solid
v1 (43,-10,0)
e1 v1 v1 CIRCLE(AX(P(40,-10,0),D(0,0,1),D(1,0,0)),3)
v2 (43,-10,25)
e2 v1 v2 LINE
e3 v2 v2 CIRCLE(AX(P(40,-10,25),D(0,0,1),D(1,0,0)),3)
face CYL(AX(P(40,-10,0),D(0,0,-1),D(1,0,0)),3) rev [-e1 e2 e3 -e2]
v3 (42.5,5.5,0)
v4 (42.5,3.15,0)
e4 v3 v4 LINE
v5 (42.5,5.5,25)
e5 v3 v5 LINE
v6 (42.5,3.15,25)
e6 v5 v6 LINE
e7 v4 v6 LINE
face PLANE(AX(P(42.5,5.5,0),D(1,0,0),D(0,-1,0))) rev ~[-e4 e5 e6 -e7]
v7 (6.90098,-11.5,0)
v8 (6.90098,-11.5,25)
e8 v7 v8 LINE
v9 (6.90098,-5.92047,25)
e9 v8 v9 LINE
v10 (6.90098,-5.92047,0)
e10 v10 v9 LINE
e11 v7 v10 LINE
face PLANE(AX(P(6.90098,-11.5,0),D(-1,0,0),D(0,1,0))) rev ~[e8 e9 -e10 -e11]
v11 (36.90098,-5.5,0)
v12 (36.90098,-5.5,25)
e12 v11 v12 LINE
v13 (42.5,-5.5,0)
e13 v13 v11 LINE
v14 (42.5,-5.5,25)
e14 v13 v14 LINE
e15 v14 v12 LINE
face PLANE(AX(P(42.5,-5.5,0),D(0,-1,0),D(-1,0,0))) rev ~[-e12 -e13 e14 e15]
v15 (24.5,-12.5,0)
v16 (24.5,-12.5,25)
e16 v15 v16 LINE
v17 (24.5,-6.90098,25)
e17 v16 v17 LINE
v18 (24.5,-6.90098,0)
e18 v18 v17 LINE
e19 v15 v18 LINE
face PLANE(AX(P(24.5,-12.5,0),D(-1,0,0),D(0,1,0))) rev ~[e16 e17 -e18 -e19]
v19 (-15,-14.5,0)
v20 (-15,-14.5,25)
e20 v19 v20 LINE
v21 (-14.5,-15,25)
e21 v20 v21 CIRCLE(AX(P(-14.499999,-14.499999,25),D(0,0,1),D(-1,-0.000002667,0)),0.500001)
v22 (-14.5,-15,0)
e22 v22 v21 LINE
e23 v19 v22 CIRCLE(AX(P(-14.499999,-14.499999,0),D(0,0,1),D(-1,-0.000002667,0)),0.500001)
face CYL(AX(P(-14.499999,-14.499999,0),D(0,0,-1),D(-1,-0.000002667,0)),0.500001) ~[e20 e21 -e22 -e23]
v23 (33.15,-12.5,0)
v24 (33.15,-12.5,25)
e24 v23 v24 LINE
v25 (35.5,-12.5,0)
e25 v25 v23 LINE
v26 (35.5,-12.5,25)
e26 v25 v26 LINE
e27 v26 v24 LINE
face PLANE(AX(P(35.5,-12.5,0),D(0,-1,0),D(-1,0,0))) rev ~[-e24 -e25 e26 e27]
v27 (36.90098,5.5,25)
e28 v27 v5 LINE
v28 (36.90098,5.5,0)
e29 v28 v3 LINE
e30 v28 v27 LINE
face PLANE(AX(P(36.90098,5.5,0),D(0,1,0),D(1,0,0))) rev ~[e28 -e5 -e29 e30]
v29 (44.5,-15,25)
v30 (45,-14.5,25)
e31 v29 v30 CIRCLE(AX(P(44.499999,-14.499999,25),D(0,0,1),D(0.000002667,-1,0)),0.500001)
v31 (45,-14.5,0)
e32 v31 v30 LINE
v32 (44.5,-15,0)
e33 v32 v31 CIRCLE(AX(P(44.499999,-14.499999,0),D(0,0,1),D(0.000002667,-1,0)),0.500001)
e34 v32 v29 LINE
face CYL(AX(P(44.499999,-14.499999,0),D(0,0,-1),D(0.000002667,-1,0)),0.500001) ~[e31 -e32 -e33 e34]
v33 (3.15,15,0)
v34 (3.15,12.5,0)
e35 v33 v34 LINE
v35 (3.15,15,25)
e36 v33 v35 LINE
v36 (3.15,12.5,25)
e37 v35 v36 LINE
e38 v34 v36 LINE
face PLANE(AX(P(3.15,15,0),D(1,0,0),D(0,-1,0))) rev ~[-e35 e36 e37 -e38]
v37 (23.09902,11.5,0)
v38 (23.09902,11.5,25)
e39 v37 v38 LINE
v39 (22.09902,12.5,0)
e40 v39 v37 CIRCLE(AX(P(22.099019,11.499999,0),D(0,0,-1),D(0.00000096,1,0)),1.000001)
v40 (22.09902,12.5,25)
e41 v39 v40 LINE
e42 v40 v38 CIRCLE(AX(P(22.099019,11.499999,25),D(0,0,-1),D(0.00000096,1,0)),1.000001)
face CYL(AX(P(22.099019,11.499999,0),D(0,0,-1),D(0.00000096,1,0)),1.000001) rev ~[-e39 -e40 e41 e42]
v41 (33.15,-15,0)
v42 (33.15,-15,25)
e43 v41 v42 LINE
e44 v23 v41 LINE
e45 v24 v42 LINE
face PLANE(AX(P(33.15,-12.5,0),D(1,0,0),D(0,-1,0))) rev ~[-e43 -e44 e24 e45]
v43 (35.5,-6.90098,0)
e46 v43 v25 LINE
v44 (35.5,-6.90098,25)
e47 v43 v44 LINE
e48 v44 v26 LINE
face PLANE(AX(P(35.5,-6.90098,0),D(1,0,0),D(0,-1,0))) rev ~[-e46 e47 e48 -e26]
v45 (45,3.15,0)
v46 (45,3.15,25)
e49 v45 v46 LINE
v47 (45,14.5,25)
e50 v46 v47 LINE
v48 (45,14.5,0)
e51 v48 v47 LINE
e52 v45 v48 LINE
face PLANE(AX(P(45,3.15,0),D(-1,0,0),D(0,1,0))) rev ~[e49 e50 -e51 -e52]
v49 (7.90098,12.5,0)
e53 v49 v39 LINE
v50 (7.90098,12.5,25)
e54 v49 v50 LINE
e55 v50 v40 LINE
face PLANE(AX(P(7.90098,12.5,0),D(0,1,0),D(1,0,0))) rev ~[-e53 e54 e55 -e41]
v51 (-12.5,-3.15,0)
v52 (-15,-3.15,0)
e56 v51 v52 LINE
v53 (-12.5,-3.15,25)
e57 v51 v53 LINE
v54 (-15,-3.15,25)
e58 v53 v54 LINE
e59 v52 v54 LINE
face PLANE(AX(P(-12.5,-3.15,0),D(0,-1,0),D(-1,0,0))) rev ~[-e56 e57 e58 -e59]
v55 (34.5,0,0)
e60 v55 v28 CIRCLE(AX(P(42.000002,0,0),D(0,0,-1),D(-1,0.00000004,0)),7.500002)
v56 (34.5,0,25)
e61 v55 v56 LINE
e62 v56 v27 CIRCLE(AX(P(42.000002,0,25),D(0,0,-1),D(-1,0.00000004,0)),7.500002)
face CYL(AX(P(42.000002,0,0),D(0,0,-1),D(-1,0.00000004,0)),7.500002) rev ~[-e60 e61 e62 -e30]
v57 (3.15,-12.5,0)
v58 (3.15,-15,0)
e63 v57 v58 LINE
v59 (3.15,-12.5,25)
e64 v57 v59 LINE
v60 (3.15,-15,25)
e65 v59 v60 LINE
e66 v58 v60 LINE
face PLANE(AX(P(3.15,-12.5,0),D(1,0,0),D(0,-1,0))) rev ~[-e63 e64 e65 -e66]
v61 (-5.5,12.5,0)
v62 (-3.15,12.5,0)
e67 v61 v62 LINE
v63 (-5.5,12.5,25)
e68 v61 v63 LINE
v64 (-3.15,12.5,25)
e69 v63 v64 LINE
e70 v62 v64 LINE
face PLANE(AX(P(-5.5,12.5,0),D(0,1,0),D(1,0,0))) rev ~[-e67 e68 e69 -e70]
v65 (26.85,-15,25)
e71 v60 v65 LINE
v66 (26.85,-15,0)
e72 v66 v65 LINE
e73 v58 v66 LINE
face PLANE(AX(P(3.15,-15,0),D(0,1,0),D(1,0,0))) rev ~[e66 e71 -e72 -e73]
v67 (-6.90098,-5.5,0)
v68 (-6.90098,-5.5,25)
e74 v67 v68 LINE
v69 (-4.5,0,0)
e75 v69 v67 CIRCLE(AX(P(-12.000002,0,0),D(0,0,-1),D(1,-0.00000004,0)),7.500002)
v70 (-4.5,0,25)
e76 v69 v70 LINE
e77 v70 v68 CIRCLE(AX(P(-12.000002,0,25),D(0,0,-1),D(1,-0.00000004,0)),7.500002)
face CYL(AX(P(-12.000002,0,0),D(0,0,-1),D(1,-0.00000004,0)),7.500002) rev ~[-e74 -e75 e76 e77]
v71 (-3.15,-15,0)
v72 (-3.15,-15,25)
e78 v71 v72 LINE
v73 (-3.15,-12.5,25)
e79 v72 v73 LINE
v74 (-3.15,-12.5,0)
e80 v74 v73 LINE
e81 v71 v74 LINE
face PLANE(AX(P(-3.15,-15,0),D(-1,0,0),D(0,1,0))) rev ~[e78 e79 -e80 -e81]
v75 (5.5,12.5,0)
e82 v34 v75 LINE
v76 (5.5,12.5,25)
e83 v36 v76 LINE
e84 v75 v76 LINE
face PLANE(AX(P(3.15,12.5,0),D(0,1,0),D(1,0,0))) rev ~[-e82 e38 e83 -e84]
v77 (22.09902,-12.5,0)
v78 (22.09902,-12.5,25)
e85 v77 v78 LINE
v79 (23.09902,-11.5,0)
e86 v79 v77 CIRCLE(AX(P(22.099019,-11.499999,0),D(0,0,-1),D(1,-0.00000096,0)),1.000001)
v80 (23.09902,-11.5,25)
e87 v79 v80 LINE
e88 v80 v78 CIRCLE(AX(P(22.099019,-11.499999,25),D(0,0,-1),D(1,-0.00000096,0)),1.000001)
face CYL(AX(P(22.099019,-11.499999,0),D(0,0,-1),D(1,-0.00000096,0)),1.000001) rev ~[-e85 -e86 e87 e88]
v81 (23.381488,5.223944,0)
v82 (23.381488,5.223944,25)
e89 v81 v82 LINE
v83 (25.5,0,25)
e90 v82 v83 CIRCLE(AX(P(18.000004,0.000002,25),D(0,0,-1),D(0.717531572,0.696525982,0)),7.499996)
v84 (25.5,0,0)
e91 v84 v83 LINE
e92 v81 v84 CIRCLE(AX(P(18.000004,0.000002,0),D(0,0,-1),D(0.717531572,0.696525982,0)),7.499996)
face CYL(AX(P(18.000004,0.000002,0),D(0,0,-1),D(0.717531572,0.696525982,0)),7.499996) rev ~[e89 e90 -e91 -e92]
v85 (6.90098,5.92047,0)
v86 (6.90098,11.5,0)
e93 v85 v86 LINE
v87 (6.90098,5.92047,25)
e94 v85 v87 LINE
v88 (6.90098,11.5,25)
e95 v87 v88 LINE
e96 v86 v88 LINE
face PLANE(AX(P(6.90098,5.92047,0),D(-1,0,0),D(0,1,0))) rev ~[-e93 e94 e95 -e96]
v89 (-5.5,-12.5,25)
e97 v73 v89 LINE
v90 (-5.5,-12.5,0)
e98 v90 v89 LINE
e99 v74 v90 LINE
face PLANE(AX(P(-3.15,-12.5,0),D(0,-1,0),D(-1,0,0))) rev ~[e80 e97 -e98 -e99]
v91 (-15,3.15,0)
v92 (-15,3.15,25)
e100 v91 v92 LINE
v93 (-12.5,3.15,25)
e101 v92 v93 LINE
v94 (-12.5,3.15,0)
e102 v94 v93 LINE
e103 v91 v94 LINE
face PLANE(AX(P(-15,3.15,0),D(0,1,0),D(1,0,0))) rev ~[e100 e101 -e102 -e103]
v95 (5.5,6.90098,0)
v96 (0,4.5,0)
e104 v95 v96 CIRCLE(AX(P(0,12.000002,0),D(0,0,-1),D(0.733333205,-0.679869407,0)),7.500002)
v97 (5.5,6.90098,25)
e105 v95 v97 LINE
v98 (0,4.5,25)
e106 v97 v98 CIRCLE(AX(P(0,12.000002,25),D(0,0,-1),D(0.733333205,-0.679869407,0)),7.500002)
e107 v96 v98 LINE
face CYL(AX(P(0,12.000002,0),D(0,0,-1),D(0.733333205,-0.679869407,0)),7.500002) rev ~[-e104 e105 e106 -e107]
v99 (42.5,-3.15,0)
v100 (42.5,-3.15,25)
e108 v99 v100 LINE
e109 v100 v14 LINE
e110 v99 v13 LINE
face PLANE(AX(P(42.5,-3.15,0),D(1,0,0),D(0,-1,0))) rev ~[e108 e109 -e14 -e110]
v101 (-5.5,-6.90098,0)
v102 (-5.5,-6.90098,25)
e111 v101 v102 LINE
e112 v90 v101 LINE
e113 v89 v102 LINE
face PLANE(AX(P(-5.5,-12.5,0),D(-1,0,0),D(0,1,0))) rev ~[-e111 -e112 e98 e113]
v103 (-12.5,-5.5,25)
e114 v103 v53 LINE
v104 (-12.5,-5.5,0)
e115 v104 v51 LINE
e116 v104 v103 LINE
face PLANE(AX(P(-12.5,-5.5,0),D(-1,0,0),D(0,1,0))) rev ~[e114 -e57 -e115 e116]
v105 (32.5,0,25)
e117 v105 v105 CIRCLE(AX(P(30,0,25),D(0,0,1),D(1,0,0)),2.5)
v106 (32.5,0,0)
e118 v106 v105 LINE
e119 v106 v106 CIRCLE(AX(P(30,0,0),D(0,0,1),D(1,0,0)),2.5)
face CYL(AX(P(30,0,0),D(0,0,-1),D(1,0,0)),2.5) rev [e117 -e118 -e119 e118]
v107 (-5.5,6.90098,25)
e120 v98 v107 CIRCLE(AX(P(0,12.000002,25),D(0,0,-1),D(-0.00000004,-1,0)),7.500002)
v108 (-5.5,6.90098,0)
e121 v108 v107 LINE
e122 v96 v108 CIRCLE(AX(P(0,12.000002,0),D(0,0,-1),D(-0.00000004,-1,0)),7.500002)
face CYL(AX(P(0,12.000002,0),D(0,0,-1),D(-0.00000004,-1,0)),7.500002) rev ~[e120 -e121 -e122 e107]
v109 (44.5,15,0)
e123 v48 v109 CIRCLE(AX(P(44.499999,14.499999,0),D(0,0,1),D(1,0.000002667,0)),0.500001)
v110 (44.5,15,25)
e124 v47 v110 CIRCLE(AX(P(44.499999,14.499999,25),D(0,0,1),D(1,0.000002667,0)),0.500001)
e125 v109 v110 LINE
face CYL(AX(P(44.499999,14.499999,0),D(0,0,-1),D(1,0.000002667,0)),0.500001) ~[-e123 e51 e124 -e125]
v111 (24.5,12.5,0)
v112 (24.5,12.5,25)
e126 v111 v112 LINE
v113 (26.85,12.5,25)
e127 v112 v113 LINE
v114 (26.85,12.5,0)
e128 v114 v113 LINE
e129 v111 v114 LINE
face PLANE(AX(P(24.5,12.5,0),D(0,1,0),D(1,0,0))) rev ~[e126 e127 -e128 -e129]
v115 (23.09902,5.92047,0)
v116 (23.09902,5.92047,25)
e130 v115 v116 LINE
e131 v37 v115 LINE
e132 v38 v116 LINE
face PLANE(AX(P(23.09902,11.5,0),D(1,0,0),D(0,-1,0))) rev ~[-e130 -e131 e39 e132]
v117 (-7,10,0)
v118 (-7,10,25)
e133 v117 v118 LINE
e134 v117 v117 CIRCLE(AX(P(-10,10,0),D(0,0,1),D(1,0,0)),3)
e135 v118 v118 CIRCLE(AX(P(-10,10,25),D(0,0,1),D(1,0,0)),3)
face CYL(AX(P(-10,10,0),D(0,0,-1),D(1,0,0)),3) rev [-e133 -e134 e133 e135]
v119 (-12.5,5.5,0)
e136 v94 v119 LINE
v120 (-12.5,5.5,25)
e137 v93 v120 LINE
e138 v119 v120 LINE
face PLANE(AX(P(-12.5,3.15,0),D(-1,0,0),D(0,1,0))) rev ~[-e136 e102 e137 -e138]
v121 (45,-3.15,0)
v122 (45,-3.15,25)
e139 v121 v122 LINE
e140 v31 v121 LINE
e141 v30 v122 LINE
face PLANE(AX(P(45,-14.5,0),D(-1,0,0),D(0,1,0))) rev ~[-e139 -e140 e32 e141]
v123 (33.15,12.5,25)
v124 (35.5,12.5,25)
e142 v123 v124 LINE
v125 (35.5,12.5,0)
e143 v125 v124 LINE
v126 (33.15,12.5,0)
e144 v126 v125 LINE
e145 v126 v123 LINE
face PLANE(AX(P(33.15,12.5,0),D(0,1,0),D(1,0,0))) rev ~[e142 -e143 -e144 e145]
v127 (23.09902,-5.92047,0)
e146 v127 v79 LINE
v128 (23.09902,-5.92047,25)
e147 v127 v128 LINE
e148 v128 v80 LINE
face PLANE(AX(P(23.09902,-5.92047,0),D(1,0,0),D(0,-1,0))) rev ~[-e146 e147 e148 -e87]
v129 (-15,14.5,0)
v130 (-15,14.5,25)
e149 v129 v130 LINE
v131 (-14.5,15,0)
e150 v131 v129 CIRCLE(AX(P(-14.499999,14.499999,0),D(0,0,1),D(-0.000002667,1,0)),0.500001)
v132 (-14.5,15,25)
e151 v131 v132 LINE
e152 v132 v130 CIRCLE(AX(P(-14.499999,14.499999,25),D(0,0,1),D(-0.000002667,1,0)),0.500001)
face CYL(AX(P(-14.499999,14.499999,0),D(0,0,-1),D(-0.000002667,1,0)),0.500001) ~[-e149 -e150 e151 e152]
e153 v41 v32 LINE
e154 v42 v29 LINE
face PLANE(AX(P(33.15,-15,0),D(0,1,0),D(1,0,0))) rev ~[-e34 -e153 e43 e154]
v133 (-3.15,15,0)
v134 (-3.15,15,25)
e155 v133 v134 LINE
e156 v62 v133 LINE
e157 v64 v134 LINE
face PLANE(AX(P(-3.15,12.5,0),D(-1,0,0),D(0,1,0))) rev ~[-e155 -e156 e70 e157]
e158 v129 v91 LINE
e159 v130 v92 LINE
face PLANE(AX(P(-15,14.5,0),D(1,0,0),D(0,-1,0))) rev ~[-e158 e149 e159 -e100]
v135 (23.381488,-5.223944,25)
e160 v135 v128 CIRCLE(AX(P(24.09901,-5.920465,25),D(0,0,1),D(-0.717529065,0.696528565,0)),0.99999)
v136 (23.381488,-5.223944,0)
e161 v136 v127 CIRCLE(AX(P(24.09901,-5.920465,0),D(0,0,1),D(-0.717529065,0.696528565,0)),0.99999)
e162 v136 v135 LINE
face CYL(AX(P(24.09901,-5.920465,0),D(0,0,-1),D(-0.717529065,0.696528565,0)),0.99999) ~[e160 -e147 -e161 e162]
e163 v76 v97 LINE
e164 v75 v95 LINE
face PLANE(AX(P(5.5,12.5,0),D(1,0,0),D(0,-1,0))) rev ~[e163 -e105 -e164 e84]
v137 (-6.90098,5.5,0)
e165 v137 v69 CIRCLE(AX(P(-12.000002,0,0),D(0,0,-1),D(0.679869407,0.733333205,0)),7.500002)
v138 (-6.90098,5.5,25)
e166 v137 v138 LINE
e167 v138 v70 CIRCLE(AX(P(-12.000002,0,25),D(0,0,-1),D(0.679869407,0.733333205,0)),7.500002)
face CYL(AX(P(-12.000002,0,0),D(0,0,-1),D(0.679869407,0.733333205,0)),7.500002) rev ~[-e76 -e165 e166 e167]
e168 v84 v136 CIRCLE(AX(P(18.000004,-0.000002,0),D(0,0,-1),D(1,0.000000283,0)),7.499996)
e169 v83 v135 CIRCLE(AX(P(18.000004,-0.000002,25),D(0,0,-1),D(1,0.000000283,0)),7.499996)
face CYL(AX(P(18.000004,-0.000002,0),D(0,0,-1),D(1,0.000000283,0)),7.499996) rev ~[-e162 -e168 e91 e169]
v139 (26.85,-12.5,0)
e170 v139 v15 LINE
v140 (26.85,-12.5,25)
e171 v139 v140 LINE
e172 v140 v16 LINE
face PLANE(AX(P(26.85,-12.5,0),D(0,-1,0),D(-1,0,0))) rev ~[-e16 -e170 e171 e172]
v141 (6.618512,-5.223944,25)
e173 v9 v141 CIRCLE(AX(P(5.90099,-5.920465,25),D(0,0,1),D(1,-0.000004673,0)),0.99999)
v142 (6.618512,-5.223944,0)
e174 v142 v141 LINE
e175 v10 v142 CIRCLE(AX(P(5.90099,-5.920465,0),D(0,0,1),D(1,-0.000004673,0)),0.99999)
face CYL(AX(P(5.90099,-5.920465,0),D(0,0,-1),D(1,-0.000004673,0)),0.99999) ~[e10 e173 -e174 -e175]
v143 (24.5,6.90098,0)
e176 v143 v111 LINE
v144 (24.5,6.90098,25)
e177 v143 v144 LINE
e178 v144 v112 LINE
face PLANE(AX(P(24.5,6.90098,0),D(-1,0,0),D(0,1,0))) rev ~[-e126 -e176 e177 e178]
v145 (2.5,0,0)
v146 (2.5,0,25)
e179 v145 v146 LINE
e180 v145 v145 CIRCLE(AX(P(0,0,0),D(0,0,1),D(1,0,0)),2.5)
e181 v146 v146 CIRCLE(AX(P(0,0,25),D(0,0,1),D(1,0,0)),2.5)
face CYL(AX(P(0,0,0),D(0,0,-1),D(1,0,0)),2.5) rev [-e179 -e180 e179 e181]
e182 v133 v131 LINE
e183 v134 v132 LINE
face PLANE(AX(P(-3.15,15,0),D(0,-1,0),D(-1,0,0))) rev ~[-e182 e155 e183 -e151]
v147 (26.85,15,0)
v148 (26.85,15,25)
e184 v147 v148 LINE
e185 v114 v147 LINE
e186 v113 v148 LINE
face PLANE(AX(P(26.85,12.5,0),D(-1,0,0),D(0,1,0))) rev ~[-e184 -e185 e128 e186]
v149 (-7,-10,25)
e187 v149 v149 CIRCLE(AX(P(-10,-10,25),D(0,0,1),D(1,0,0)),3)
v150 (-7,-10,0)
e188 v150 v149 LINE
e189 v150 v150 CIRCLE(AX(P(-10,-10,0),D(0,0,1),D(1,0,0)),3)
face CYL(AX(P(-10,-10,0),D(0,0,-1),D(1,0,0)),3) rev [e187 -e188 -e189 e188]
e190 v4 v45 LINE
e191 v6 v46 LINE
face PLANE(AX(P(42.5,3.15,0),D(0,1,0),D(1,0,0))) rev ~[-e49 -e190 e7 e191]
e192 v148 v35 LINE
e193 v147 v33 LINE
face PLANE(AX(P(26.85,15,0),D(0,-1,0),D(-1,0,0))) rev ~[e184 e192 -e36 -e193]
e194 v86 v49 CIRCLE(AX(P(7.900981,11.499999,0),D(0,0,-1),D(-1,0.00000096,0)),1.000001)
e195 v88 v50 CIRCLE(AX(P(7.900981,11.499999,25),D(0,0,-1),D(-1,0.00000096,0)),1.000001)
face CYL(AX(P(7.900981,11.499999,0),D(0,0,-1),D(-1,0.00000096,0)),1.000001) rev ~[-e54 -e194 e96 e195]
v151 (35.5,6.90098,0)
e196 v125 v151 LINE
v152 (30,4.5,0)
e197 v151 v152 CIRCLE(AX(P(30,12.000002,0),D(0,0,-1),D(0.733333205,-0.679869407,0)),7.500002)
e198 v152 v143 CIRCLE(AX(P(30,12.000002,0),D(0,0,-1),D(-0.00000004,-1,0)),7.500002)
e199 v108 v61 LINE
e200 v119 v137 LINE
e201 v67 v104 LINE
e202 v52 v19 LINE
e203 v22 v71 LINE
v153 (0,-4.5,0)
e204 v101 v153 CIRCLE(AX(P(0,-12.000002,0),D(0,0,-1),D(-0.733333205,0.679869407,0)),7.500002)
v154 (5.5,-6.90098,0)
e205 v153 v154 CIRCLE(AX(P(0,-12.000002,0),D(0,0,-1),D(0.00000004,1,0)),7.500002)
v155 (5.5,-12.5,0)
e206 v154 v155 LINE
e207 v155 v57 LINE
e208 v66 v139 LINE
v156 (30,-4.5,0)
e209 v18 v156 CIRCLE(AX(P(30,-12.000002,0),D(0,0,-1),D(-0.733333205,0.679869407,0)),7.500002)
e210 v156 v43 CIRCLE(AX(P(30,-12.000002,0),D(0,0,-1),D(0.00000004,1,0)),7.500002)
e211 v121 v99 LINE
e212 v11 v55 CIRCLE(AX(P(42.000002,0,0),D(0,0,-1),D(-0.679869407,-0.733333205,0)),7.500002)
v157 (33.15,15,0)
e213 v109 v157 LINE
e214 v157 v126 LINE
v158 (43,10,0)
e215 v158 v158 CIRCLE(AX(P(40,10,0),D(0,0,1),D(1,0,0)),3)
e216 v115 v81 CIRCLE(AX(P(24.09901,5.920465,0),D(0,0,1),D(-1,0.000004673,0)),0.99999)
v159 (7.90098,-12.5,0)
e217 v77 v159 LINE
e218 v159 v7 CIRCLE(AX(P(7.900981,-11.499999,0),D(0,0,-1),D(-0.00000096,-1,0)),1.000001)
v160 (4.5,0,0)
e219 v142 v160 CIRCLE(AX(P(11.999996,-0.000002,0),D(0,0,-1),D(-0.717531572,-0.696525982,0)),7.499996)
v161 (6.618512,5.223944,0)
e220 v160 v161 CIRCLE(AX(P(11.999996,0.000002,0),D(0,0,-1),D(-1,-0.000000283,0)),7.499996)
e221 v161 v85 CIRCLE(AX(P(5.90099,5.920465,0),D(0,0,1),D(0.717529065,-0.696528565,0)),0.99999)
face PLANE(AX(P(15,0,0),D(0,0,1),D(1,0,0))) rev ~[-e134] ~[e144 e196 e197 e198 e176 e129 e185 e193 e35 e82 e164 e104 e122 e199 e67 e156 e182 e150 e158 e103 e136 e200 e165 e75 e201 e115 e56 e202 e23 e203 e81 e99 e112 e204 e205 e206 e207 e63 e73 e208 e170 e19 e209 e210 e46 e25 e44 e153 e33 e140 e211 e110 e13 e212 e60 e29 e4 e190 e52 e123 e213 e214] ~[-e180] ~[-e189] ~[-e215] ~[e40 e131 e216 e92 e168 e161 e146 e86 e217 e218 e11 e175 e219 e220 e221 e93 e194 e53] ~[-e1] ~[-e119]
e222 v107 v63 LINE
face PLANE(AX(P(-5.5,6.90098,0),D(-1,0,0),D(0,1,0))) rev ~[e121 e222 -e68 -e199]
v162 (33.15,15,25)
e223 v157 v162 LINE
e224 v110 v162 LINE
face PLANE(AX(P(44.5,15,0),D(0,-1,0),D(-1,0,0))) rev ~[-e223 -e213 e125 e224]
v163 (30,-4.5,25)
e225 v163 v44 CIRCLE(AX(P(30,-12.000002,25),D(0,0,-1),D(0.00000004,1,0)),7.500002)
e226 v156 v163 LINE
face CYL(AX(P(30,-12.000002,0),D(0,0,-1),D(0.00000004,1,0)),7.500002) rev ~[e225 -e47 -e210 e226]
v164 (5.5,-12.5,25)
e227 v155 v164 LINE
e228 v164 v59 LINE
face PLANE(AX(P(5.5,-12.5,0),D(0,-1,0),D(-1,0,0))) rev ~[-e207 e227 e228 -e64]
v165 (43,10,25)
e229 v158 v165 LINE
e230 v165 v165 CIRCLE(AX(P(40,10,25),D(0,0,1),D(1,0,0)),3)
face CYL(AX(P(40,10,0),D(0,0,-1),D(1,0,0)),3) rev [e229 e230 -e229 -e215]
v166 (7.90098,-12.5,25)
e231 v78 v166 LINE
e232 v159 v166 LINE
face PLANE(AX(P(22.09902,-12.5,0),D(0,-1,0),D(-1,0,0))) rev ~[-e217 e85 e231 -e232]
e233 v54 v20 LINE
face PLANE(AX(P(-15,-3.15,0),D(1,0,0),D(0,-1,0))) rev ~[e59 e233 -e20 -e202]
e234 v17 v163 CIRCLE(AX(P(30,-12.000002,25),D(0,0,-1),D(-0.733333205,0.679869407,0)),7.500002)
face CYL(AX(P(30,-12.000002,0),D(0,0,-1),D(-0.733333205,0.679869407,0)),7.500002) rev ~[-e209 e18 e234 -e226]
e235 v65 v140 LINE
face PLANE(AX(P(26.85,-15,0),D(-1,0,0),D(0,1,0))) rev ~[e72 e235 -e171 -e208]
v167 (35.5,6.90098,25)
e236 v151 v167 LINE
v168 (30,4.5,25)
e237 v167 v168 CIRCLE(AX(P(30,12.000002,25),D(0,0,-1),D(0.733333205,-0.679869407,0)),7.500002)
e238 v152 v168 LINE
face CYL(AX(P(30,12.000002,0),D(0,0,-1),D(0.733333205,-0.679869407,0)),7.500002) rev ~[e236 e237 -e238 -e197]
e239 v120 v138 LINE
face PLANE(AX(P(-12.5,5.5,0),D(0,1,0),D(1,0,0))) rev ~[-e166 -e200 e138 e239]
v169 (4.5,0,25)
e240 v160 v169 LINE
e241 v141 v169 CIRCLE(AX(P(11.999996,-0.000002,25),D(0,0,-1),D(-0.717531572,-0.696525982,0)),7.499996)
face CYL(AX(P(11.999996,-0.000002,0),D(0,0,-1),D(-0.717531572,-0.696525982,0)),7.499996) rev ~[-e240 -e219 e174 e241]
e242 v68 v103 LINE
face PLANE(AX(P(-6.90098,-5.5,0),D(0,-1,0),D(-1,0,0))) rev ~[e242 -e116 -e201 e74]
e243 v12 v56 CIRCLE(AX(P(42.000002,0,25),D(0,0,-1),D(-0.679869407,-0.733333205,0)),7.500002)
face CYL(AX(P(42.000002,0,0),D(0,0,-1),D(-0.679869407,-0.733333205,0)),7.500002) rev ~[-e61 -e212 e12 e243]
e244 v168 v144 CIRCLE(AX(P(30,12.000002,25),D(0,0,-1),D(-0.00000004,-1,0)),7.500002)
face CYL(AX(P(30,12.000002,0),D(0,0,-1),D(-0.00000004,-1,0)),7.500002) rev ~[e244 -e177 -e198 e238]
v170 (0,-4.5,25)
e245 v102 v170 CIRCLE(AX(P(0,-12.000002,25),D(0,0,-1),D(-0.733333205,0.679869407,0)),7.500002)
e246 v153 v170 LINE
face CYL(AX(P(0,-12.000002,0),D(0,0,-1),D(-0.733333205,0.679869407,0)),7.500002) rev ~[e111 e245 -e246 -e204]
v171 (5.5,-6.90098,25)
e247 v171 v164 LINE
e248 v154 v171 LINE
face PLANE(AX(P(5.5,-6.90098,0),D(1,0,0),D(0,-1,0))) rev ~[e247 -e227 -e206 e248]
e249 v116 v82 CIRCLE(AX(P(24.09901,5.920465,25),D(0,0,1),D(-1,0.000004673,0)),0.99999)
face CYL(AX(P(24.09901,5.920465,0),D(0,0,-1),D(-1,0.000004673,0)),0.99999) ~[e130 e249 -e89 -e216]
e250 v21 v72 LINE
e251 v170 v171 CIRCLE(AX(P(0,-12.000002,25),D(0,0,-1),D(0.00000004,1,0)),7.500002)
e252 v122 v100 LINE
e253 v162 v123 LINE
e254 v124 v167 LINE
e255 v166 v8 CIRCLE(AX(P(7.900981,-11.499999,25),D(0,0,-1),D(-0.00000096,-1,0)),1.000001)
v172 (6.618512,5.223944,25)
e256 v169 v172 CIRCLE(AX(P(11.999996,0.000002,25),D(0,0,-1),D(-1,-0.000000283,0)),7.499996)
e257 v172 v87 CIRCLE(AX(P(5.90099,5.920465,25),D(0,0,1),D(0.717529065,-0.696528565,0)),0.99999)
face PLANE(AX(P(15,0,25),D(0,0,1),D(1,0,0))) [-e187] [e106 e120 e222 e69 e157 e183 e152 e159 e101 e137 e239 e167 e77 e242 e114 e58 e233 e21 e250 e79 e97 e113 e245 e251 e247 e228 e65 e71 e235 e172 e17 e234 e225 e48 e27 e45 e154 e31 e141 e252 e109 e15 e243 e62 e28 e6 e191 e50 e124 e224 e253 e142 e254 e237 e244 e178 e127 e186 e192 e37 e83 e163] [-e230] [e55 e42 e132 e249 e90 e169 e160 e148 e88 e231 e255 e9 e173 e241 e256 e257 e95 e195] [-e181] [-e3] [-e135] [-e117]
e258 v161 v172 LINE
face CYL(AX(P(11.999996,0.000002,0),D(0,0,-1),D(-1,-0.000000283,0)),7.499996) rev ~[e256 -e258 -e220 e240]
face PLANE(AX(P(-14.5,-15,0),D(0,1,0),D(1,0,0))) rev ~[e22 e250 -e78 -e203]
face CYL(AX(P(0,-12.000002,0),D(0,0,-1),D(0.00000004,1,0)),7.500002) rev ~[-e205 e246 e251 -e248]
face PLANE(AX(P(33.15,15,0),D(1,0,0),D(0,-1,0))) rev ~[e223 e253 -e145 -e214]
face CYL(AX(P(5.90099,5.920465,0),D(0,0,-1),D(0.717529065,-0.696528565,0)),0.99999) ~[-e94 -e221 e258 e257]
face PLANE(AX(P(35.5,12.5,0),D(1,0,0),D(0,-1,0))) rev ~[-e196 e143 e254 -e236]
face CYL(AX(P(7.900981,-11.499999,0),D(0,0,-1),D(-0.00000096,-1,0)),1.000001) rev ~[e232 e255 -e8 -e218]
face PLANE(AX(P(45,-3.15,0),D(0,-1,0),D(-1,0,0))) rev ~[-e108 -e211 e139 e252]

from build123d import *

# Parameters (mm, degrees)
F0_R     = 3
F0_R_2   = 2.5
F1_DEPTH = 25


with BuildPart() as f1:
    # F0 (on Top) → F1 (new body)
    with BuildSketch(Plane.XY):
        with BuildLine():
            ThreePointArc((-14.5, 15), (-14.853553, 14.853553), (-15, 14.5))
            Line((-15, 14.5), (-15, 3.15))
            Line((-15, 3.15), (-12.5, 3.15))
            Line((-12.5, 3.15), (-12.5, 5.5))
            Line((-12.5, 5.5), (-6.90098, 5.5))
            ThreePointArc((-6.90098, 5.5), (-5.126404, 3.000613), (-4.5, 0))
            ThreePointArc((-4.5, 0), (-5.126404, -3.000613), (-6.90098, -5.5))
            Line((-6.90098, -5.5), (-12.5, -5.5))
            Line((-12.5, -5.5), (-12.5, -3.15))
            Line((-12.5, -3.15), (-15, -3.15))
            Line((-15, -3.15), (-15, -14.5))
            ThreePointArc((-15, -14.5), (-14.853553, -14.853553), (-14.5, -15))
            Line((-14.5, -15), (-3.15, -15))
            Line((-3.15, -15), (-3.15, -12.5))
            Line((-3.15, -12.5), (-5.5, -12.5))
            Line((-5.5, -12.5), (-5.5, -6.90098))
            ThreePointArc((-5.5, -6.90098), (-3.000613, -5.126404), (0, -4.5))
            ThreePointArc((0, -4.5), (3.000613, -5.126404), (5.5, -6.90098))
            Line((5.5, -6.90098), (5.5, -12.5))
            Line((5.5, -12.5), (3.15, -12.5))
            Line((3.15, -12.5), (3.15, -15))
            Line((3.15, -15), (26.85, -15))
            Line((26.85, -15), (26.85, -12.5))
            Line((26.85, -12.5), (24.5, -12.5))
            Line((24.5, -12.5), (24.5, -6.90098))
            ThreePointArc((24.5, -6.90098), (26.999387, -5.126404), (30, -4.5))
            ThreePointArc((30, -4.5), (33.000613, -5.126404), (35.5, -6.90098))
            Line((35.5, -6.90098), (35.5, -12.5))
            Line((35.5, -12.5), (33.15, -12.5))
            Line((33.15, -12.5), (33.15, -15))
            Line((33.15, -15), (44.5, -15))
            ThreePointArc((44.5, -15), (44.853553, -14.853553), (45, -14.5))
            Line((45, -14.5), (45, -3.15))
            Line((45, -3.15), (42.5, -3.15))
            Line((42.5, -3.15), (42.5, -5.5))
            Line((42.5, -5.5), (36.90098, -5.5))
            ThreePointArc((36.90098, -5.5), (35.126404, -3.000613), (34.5, 0))
            ThreePointArc((34.5, 0), (35.126404, 3.000613), (36.90098, 5.5))
            Line((36.90098, 5.5), (42.5, 5.5))
            Line((42.5, 5.5), (42.5, 3.15))
            Line((42.5, 3.15), (45, 3.15))
            Line((45, 3.15), (45, 14.5))
            ThreePointArc((45, 14.5), (44.853553, 14.853553), (44.5, 15))
            Line((44.5, 15), (33.15, 15))
            Line((33.15, 15), (33.15, 12.5))
            Line((33.15, 12.5), (35.5, 12.5))
            Line((35.5, 12.5), (35.5, 6.90098))
            ThreePointArc((35.5, 6.90098), (33.000613, 5.126404), (30, 4.5))
            ThreePointArc((30, 4.5), (26.999387, 5.126404), (24.5, 6.90098))
            Line((24.5, 6.90098), (24.5, 12.5))
            Line((24.5, 12.5), (26.85, 12.5))
            Line((26.85, 12.5), (26.85, 15))
            Line((26.85, 15), (3.15, 15))
            Line((3.15, 15), (3.15, 12.5))
            Line((3.15, 12.5), (5.5, 12.5))
            Line((5.5, 12.5), (5.5, 6.90098))
            ThreePointArc((5.5, 6.90098), (3.000613, 5.126404), (0, 4.5))
            ThreePointArc((0, 4.5), (-3.000613, 5.126404), (-5.5, 6.90098))
            Line((-5.5, 6.90098), (-5.5, 12.5))
            Line((-5.5, 12.5), (-3.15, 12.5))
            Line((-3.15, 12.5), (-3.15, 15))
            Line((-3.15, 15), (-14.5, 15))
        make_face()
        with Locations((-10, -10)):
            Circle(F0_R, mode=Mode.SUBTRACT)
        with Locations((40, -10)):
            Circle(F0_R, mode=Mode.SUBTRACT)
        Circle(F0_R_2, mode=Mode.SUBTRACT)
        with Locations((-10, 10)):
            Circle(F0_R, mode=Mode.SUBTRACT)
        with BuildLine():
            ThreePointArc((6.618512, -5.223944), (5.049778, -2.818585), (4.5, 0))
            ThreePointArc((4.5, 0), (5.049778, 2.818585), (6.618512, 5.223944))
            ThreePointArc((6.618512, 5.223944), (6.827677, 5.544658), (6.90098, 5.92047))
            Line((6.90098, 5.92047), (6.90098, 11.5))
            ThreePointArc((6.90098, 11.5), (7.193874, 12.207107), (7.90098, 12.5))
            Line((7.90098, 12.5), (15, 12.5))
            Line((15, 12.5), (22.09902, 12.5))
            ThreePointArc((22.09902, 12.5), (22.806126, 12.207107), (23.09902, 11.5))
            Line((23.09902, 11.5), (23.09902, 5.92047))
            ThreePointArc((23.09902, 5.92047), (23.172323, 5.544658), (23.381488, 5.223944))
            ThreePointArc((23.381488, 5.223944), (24.950222, 2.818585), (25.5, 0))
            ThreePointArc((25.5, 0), (24.950222, -2.818585), (23.381488, -5.223944))
            ThreePointArc((23.381488, -5.223944), (23.172323, -5.544658), (23.09902, -5.92047))
            Line((23.09902, -5.92047), (23.09902, -11.5))
            ThreePointArc((23.09902, -11.5), (22.806126, -12.207107), (22.09902, -12.5))
            Line((22.09902, -12.5), (15, -12.5))
            Line((15, -12.5), (7.90098, -12.5))
            ThreePointArc((7.90098, -12.5), (7.193874, -12.207107), (6.90098, -11.5))
            Line((6.90098, -11.5), (6.90098, -5.92047))
            ThreePointArc((6.90098, -5.92047), (6.827677, -5.544658), (6.618512, -5.223944))
        make_face(mode=Mode.SUBTRACT)
        with Locations((30, 0)):
            Circle(F0_R_2, mode=Mode.SUBTRACT)
        with Locations((40, 10)):
            Circle(F0_R, mode=Mode.SUBTRACT)
    extrude(amount=F1_DEPTH)


solid = f1.part
